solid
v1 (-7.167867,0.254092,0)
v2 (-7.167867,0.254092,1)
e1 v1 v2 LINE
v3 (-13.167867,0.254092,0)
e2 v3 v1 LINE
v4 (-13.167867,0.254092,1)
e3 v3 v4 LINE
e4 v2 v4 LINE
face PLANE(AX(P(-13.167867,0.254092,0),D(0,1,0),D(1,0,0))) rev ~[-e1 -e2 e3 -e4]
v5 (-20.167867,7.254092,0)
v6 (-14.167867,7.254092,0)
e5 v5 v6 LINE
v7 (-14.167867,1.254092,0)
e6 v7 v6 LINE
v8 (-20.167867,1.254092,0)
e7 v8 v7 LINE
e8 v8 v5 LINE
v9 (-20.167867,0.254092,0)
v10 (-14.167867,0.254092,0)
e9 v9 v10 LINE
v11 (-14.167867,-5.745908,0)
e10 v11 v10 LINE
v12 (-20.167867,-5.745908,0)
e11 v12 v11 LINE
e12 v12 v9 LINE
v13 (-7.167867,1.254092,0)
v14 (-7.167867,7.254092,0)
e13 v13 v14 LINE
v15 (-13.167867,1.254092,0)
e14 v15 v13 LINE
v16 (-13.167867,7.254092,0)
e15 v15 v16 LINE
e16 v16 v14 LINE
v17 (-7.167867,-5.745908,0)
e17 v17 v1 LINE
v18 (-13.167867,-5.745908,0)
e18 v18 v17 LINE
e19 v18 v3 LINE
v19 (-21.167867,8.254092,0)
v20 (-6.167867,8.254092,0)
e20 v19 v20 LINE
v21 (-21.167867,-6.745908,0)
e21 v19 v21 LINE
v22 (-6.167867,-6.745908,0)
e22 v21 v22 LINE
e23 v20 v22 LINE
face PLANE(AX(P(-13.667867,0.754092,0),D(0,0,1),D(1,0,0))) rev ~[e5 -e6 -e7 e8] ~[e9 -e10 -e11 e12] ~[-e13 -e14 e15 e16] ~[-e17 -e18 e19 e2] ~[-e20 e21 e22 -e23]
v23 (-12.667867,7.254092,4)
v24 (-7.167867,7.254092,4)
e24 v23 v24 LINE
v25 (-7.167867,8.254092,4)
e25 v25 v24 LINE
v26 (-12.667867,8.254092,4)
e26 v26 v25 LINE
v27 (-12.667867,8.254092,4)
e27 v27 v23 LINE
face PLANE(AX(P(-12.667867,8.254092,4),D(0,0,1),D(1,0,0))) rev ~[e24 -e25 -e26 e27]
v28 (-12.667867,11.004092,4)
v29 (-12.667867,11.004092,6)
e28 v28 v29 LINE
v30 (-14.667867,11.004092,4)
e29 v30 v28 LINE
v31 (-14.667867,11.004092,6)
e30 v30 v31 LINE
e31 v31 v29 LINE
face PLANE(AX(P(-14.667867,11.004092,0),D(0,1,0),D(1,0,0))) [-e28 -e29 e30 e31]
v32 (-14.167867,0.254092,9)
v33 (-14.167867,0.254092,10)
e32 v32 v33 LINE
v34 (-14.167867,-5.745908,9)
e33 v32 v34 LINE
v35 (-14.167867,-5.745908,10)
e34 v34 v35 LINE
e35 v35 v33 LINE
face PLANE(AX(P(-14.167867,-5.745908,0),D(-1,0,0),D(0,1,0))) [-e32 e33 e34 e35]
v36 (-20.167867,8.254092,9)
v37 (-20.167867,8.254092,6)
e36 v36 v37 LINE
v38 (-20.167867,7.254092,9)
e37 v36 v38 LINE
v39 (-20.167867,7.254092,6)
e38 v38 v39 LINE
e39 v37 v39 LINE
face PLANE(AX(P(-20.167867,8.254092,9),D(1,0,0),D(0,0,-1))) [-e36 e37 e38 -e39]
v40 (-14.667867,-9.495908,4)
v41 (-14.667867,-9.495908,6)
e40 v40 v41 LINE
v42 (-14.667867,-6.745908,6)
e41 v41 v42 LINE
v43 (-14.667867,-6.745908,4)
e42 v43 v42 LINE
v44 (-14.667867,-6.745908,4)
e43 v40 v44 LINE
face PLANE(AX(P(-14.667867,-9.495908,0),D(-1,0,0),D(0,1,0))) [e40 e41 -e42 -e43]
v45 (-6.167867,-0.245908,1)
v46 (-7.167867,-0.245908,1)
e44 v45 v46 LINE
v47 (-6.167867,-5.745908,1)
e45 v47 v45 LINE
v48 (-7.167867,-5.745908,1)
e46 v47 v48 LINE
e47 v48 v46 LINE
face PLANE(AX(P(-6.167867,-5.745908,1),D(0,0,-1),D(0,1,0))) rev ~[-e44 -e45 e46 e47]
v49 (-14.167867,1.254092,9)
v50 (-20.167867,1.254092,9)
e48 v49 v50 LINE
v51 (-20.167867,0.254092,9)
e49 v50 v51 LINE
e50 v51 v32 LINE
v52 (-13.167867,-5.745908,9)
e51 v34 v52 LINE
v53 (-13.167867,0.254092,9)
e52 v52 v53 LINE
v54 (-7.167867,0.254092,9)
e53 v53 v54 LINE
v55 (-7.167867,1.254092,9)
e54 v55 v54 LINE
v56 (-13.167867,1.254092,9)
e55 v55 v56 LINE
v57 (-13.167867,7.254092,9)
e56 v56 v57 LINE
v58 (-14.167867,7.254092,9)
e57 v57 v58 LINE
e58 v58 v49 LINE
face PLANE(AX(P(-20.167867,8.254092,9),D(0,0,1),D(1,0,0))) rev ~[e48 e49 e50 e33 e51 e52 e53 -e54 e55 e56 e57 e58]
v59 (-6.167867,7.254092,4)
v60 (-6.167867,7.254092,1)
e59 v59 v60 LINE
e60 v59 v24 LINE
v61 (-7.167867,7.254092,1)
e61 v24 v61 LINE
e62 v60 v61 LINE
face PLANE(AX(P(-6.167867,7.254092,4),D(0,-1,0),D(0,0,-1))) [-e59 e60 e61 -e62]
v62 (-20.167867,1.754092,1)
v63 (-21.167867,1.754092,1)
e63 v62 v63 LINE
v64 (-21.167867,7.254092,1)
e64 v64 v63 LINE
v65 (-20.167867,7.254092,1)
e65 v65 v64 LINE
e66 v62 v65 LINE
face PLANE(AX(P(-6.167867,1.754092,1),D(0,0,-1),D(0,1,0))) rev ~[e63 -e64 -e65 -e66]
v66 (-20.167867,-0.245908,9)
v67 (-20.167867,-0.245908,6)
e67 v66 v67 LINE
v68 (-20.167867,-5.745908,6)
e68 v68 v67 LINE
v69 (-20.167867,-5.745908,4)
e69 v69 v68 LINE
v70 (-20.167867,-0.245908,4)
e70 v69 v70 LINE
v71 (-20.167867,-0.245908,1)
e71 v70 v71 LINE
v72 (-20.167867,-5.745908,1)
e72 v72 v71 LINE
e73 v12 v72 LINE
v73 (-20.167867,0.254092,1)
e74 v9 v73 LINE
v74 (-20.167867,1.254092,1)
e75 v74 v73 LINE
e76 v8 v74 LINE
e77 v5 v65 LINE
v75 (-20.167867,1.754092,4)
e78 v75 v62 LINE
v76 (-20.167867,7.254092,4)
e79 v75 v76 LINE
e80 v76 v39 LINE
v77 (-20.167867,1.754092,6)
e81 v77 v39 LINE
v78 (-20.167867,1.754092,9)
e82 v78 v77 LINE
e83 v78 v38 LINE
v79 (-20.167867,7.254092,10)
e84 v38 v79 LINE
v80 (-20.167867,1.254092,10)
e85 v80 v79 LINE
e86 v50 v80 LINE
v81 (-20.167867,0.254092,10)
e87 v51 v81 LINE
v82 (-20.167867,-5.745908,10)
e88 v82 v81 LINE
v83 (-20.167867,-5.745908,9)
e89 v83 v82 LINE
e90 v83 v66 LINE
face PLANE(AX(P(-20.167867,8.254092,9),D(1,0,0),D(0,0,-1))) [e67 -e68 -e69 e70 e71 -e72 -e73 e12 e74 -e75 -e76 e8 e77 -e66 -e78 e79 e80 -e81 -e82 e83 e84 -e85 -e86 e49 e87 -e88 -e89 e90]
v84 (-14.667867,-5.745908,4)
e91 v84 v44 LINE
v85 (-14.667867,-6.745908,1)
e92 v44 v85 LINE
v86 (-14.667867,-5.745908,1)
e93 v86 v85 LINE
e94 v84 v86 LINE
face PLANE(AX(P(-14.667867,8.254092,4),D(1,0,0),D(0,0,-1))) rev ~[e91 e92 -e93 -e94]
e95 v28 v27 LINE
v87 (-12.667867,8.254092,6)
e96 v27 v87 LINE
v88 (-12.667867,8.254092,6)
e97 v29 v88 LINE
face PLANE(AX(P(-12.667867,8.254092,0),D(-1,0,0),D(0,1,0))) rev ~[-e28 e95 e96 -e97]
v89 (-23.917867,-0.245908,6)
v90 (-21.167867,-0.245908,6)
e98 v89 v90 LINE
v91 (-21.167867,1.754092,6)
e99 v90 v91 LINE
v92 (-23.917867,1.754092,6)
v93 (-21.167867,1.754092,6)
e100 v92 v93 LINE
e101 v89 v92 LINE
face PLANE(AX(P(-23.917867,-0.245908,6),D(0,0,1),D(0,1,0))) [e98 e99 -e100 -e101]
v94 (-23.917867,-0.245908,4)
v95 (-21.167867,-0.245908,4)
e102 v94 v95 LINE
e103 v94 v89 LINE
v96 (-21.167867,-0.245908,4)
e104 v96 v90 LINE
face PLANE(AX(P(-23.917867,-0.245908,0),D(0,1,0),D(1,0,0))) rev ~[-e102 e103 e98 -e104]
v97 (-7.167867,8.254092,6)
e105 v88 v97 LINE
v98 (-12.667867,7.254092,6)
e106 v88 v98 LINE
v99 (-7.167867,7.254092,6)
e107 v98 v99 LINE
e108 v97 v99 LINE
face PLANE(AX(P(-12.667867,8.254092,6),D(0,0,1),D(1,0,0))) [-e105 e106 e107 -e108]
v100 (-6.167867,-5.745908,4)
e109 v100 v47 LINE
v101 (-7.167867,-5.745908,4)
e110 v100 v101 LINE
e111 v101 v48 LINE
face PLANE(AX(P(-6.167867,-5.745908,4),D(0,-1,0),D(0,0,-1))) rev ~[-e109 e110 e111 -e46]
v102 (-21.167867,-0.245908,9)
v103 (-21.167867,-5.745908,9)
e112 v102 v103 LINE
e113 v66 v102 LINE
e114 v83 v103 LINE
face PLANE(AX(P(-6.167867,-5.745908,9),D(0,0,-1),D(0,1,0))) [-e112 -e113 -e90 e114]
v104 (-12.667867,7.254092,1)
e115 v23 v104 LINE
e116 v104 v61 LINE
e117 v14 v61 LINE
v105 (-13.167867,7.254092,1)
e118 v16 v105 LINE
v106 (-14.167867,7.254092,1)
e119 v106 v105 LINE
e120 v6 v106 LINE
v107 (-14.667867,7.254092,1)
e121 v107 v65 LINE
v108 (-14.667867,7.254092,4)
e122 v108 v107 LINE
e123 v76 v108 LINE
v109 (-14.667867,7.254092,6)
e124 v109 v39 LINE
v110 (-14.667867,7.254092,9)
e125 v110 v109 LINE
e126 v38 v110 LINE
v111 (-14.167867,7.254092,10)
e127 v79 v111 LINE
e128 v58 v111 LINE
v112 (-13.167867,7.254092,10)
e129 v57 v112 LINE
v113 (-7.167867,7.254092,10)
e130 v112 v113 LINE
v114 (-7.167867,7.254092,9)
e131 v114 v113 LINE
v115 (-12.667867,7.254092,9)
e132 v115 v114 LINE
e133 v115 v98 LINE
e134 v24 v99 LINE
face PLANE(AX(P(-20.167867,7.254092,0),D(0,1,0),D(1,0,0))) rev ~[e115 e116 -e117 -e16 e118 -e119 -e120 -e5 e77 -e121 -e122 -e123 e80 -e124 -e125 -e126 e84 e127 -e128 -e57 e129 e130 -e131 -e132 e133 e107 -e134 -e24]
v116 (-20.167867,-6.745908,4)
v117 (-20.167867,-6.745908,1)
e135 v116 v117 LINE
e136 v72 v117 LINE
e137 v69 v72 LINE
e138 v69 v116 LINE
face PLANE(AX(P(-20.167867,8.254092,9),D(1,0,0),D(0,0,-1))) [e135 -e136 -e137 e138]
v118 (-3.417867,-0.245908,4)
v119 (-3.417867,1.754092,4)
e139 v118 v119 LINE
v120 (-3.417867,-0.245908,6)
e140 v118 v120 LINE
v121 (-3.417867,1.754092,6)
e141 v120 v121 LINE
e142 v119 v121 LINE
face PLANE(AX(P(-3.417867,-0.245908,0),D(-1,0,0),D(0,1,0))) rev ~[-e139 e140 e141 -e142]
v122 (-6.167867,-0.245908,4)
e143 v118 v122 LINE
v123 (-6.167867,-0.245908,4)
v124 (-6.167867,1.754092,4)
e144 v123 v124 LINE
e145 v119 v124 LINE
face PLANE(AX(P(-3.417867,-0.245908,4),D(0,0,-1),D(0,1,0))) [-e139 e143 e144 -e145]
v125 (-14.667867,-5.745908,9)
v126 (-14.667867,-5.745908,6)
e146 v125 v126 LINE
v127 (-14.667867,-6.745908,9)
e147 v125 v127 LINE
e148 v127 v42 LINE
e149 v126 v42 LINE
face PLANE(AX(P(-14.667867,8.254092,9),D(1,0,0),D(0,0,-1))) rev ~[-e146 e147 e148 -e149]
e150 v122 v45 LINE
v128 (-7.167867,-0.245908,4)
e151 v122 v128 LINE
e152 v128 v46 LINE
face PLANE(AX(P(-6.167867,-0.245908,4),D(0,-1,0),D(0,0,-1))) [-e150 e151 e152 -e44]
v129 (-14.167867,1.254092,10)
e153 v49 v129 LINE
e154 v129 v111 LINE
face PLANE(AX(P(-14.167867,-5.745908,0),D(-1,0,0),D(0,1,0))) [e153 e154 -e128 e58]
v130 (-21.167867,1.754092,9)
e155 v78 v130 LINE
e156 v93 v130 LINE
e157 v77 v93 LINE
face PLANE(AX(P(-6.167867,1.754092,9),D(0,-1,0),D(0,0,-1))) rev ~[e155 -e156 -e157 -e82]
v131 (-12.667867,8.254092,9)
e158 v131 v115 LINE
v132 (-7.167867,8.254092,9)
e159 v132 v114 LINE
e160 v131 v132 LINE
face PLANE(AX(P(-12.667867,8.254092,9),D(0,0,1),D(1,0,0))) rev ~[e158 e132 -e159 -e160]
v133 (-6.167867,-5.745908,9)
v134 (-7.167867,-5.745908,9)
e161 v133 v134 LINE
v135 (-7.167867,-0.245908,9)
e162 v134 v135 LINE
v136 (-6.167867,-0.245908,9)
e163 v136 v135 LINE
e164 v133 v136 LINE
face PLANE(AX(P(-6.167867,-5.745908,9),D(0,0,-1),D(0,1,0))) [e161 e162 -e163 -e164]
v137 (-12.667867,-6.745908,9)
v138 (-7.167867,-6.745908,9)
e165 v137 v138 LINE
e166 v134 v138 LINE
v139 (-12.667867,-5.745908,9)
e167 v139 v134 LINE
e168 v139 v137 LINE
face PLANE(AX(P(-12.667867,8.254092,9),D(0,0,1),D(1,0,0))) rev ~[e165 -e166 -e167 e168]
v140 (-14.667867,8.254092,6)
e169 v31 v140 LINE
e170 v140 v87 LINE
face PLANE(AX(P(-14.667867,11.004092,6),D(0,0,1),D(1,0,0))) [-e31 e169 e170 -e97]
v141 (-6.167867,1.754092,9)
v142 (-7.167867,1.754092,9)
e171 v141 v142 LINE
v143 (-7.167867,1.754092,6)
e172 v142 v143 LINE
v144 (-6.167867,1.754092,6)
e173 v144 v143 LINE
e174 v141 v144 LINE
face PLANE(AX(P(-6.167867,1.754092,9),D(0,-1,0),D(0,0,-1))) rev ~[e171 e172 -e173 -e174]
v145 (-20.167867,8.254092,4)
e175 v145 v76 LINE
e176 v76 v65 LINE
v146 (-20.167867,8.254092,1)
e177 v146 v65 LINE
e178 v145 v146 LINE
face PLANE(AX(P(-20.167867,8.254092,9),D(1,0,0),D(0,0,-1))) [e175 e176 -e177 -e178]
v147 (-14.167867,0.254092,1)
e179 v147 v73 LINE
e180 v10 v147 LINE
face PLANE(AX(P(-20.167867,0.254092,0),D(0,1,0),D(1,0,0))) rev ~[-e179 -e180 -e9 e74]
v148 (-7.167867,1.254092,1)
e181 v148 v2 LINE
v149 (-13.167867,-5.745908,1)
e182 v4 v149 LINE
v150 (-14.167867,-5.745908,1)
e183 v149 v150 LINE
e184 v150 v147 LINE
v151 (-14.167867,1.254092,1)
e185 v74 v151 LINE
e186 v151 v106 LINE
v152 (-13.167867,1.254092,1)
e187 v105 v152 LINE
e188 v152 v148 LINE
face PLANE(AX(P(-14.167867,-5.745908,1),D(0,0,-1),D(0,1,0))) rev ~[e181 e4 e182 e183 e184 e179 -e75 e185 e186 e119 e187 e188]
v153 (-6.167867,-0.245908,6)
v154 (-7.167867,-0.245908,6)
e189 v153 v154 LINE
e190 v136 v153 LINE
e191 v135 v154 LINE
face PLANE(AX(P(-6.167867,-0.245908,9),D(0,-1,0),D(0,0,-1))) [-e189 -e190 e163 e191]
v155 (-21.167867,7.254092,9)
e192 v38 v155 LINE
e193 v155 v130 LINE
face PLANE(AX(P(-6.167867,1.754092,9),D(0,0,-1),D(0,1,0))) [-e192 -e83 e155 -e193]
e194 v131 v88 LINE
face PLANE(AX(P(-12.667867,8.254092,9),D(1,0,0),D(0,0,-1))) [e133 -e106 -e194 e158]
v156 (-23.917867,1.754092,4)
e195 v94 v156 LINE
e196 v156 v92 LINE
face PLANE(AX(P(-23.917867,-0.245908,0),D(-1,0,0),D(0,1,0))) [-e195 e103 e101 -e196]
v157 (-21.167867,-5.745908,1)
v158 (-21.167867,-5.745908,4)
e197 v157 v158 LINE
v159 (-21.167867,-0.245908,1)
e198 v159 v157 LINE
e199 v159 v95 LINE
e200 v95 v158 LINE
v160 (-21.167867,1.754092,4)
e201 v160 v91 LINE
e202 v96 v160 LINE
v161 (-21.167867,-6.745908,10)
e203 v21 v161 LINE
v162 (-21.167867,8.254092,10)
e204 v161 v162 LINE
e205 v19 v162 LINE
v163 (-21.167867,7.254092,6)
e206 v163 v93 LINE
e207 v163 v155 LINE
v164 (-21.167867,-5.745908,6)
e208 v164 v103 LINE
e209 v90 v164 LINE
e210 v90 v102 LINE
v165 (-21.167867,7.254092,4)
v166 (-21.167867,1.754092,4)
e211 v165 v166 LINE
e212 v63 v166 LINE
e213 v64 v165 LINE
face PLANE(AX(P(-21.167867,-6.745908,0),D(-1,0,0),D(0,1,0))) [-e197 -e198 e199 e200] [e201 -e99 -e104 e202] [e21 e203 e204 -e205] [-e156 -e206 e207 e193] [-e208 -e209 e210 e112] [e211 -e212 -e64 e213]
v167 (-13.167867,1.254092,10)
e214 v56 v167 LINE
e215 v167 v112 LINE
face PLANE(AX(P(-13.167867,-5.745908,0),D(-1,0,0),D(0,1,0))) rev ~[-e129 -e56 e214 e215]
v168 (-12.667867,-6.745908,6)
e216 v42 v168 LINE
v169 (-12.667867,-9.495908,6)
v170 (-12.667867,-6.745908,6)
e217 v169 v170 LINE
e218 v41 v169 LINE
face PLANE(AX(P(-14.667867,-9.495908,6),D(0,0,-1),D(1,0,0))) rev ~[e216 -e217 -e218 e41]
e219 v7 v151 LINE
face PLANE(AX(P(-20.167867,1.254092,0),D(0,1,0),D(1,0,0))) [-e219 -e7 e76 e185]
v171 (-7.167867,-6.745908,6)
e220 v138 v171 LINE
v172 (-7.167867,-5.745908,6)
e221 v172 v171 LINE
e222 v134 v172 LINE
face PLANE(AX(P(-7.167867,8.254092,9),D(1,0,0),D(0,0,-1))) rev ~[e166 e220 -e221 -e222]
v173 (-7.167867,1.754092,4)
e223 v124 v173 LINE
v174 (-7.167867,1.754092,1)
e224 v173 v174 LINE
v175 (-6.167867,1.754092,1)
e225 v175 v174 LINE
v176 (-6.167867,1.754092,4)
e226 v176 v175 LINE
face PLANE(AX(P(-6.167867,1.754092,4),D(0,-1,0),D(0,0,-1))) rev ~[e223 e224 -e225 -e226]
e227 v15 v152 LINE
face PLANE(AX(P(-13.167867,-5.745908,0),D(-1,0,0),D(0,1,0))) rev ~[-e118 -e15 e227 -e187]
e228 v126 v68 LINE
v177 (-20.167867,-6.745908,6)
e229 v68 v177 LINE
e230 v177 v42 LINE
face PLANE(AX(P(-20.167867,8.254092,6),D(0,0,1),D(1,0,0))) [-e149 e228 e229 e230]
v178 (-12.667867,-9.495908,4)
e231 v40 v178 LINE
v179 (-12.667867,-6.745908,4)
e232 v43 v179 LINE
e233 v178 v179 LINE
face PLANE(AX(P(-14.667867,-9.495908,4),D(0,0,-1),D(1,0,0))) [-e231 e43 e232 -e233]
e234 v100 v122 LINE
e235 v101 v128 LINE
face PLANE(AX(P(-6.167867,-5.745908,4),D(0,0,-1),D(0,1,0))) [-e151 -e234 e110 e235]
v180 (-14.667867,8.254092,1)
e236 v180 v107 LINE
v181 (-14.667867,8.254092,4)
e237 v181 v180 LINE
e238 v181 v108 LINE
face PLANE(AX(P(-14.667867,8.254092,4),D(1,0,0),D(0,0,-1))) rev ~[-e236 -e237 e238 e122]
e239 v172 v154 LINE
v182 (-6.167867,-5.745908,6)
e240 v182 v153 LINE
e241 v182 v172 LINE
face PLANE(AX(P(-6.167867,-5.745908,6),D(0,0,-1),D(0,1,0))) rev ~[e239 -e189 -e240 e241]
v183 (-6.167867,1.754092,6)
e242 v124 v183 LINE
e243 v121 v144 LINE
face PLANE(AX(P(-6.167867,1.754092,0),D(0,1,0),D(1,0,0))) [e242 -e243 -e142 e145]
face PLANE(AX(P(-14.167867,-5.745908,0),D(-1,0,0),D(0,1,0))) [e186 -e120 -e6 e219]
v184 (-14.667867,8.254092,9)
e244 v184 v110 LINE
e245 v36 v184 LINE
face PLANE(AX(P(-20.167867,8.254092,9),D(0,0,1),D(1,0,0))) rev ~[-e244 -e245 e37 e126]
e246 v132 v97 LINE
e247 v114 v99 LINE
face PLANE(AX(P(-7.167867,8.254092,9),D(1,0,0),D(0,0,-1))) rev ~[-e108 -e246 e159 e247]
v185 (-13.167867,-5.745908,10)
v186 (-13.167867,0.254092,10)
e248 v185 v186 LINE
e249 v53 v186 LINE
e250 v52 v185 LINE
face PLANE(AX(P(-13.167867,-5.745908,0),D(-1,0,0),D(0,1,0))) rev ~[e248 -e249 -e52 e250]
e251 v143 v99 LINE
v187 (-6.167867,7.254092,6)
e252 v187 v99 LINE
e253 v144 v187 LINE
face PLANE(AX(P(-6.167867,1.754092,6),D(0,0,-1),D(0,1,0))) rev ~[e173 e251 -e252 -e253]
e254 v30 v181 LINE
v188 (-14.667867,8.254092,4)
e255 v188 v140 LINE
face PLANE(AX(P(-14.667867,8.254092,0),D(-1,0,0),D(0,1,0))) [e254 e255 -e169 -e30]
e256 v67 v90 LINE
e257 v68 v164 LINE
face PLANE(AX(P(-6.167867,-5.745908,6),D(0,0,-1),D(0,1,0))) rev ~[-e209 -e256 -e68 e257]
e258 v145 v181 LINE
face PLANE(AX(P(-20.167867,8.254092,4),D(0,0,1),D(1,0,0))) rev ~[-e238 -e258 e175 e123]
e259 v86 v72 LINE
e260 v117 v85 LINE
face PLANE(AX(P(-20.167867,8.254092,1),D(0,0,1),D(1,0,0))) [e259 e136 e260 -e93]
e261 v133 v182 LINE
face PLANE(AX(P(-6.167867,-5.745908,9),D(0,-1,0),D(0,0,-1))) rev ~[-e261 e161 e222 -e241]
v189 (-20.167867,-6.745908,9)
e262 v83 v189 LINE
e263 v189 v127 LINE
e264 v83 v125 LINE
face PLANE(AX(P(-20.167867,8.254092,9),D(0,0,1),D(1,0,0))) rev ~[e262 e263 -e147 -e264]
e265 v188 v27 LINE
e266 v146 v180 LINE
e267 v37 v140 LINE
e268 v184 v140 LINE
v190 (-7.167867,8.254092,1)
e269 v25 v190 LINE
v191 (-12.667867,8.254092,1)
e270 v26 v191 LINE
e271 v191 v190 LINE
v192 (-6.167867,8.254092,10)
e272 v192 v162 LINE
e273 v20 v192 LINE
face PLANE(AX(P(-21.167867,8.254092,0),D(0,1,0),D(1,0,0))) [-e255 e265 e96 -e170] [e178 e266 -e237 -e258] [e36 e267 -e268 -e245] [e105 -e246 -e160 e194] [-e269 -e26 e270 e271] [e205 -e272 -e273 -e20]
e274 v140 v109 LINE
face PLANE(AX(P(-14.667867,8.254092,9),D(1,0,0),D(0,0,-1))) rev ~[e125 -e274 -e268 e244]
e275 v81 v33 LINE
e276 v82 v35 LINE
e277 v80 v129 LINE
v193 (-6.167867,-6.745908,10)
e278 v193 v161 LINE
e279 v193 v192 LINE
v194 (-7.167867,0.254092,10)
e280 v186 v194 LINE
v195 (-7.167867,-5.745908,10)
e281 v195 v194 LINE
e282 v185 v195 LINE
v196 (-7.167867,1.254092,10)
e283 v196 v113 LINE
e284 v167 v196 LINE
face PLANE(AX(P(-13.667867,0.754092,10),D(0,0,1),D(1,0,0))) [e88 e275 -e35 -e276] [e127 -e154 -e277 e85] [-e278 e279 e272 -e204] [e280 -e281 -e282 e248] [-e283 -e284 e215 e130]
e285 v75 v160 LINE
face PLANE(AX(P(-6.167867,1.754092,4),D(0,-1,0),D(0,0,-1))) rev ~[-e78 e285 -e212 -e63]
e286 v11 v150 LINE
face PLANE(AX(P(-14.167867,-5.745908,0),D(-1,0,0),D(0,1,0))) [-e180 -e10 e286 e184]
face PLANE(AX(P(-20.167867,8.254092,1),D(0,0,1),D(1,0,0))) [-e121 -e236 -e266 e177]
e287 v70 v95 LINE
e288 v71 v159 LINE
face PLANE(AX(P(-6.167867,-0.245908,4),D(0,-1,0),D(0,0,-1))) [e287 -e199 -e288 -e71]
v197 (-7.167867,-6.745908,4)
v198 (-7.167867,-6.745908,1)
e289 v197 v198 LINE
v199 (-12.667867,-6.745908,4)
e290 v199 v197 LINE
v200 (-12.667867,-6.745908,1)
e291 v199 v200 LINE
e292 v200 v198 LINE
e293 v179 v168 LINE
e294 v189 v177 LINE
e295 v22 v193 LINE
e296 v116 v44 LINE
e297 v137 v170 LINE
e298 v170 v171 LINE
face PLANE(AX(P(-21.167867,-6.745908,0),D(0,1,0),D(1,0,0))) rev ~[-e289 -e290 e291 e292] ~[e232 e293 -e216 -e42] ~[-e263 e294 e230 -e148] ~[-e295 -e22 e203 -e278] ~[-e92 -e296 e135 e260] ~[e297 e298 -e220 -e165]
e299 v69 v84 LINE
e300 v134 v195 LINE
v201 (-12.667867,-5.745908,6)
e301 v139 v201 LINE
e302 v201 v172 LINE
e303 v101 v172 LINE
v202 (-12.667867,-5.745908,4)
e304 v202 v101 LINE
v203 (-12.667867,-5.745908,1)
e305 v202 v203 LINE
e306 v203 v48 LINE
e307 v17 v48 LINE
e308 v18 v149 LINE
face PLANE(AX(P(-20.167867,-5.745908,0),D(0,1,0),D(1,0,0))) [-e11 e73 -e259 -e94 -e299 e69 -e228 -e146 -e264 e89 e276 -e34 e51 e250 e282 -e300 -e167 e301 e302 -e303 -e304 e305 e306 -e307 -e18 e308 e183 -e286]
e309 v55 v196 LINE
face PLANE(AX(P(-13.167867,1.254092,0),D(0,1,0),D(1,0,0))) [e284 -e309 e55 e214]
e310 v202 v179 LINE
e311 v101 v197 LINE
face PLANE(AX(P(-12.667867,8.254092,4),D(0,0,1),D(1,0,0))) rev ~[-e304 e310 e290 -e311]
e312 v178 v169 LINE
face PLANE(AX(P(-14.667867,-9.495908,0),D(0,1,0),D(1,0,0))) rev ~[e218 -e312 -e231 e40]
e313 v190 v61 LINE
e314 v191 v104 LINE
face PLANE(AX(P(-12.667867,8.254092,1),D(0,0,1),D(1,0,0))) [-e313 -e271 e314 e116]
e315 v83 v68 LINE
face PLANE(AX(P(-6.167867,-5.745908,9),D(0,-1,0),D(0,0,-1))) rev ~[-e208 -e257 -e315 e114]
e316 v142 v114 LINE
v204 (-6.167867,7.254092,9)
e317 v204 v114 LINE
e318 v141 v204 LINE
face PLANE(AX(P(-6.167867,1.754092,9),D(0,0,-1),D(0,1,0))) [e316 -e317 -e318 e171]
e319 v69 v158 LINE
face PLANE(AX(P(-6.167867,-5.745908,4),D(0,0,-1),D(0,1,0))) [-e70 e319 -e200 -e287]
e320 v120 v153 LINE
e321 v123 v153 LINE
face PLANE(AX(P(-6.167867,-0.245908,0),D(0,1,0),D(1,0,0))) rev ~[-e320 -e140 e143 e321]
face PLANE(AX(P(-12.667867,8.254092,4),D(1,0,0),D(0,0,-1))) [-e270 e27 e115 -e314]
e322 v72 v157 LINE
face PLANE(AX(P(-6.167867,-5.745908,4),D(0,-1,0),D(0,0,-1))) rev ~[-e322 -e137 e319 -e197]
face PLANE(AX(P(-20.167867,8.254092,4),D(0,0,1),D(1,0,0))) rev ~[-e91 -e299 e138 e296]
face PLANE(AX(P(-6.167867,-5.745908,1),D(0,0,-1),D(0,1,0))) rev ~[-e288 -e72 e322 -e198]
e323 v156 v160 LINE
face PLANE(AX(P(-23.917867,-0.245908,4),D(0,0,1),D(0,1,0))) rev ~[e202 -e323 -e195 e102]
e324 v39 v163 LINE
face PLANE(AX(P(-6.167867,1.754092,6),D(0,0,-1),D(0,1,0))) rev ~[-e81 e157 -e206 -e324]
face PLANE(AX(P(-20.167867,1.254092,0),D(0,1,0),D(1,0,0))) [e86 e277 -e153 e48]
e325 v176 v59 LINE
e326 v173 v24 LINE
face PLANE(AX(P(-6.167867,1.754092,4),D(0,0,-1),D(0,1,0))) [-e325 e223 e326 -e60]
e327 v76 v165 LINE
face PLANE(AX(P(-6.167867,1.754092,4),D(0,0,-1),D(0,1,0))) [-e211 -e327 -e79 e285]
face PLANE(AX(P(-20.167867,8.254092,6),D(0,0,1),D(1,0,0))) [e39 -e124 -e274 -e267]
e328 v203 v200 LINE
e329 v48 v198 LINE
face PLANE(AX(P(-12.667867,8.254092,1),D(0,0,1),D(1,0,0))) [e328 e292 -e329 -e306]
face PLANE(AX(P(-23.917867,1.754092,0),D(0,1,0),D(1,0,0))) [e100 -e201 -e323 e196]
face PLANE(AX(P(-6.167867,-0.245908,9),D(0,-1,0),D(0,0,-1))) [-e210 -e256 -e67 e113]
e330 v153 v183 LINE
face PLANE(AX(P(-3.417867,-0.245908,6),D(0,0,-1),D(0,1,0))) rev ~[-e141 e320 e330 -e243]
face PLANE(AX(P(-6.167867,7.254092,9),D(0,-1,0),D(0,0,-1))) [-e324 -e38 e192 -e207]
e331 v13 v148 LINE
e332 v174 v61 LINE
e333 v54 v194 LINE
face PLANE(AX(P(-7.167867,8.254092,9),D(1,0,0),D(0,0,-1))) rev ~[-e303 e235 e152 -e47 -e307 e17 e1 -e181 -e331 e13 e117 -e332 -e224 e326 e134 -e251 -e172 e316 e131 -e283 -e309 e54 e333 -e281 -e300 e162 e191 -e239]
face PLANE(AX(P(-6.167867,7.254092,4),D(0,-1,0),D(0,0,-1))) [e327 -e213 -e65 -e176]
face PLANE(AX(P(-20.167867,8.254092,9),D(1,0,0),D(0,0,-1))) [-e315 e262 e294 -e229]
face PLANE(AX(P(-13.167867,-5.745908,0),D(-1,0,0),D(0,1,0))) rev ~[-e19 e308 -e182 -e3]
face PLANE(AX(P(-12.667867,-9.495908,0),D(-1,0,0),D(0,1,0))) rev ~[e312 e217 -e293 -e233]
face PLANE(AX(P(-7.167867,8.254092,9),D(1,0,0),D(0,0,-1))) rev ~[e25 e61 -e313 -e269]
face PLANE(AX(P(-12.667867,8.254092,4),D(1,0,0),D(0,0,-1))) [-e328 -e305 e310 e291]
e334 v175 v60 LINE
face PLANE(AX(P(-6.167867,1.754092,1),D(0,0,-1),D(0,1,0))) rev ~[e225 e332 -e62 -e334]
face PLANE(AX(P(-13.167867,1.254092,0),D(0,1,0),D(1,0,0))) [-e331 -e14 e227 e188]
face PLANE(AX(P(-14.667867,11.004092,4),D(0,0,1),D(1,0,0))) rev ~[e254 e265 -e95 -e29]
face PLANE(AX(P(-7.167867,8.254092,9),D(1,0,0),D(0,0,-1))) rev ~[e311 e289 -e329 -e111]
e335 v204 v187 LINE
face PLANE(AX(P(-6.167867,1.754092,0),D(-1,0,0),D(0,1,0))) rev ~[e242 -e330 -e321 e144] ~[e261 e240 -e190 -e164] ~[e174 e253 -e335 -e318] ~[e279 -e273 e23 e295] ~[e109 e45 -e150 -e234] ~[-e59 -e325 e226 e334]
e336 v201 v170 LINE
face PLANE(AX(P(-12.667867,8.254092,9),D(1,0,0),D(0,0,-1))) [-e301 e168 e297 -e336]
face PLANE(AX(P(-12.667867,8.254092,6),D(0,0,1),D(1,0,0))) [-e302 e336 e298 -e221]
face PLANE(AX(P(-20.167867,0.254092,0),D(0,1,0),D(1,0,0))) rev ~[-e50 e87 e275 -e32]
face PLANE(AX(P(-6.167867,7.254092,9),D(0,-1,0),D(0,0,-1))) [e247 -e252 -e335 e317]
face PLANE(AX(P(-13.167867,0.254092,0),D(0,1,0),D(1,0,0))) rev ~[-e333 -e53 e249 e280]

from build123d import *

# Parameters (mm, degrees)
SKETCH_1_W               = 15
SKETCH_1_H               = 15
SKETCH_1_W_2             = 6
SKETCH_1_H_2             = 6
SKETCH_1_W_3             = 2
SKETCH_1_H_3             = 2.75
SKETCH_1_W_4             = 2.75
SKETCH_1_H_4             = 2
EXTRUDE_1_DEPTH          = 10
SKETCH_2_W               = 2
SKETCH_2_H               = 4
CUT_EXTRUDE_1_DEPTH      = 2.75
SKETCH_3_W               = 4
SKETCH_3_H               = 2
CUT_EXTRUDE_2_DEPTH      = 2.75
SKETCH_4_W               = 2
SKETCH_4_H               = 4
CUT_EXTRUDE_3_DEPTH      = 2.75
SKETCH_5_W               = 4
SKETCH_5_H               = 2
CUT_EXTRUDE_4_DEPTH      = 2.75
SKETCH_6_W               = 5.5
SKETCH_6_H               = 3
CUT_EXTRUDE_5_DEPTH      = 18.75
SKETCH_7_W               = 3
SKETCH_7_H               = 5.5
CUT_EXTRUDE_6_DEPTH      = 18.75
SKETCH_8_W               = 8
SKETCH_8_H               = 13
CUT_EXTRUDE_7_DEPTH      = 6
CUT_EXTRUDE_7_DEPTH_BACK = 0.75
SKETCH_9_W               = 8
SKETCH_9_H               = 13
CUT_EXTRUDE_8_DEPTH      = 6
SKETCH_10_W              = 8
SKETCH_10_H              = 13
CUT_EXTRUDE_9_DEPTH      = 6


with BuildPart() as part:
    # ｽｹｯﾁ1 → ﾎﾞｽ - 押し出し1 (new body)
    with BuildSketch(Plane.XY):
        with Locations((-13.66786655, 0.754091784)):
            Rectangle(SKETCH_1_W, SKETCH_1_H)
        with Locations((-17.16786655, -2.745908216)):
            Rectangle(SKETCH_1_W_2, SKETCH_1_H_2, mode=Mode.SUBTRACT)
        with Locations((-10.16786655, -2.745908216)):
            Rectangle(SKETCH_1_W_2, SKETCH_1_H_2, mode=Mode.SUBTRACT)
        with Locations((-10.16786655, 4.254091784)):
            Rectangle(SKETCH_1_W_2, SKETCH_1_H_2, mode=Mode.SUBTRACT)
        with Locations((-17.16786655, 4.254091784)):
            Rectangle(SKETCH_1_W_2, SKETCH_1_H_2, mode=Mode.SUBTRACT)
        with Locations((-13.66786655, 9.629091784)):
            Rectangle(SKETCH_1_W_3, SKETCH_1_H_3)
        with Locations((-22.54286655, 0.754091784)):
            Rectangle(SKETCH_1_W_4, SKETCH_1_H_4)
        with Locations((-4.79286655, 0.754091784)):
            Rectangle(SKETCH_1_W_4, SKETCH_1_H_4)
        with Locations((-13.66786655, -8.120908216)):
            Rectangle(SKETCH_1_W_3, SKETCH_1_H_3)
    extrude(amount=EXTRUDE_1_DEPTH)

    # ｽｹｯﾁ2 → ｶｯﾄ - 押し出し1 (cut)
    with BuildSketch(Plane(origin=(0, 11.004091784, 0), x_dir=(1, 0, 0), z_dir=(0, 1, 0))):
        with Locations((-13.66786655, -2)):
            Rectangle(SKETCH_2_W, SKETCH_2_H)
        with Locations((-13.66786655, -8)):
            Rectangle(SKETCH_2_W, SKETCH_2_H)
    extrude(amount=-CUT_EXTRUDE_1_DEPTH, mode=Mode.SUBTRACT)

    # ｽｹｯﾁ3 → ｶｯﾄ - 押し出し2 (cut)
    with BuildSketch(Plane(origin=(-3.41786655, 0, 0), x_dir=(0, 0, -1), z_dir=(1, 0, 0))):
        with Locations((-8, 0.754091784)):
            Rectangle(SKETCH_3_W, SKETCH_3_H)
        with Locations((-2, 0.754091784)):
            Rectangle(SKETCH_3_W, SKETCH_3_H)
    extrude(amount=-CUT_EXTRUDE_2_DEPTH, mode=Mode.SUBTRACT)

    # ｽｹｯﾁ4 → ｶｯﾄ - 押し出し3 (cut)
    with BuildSketch(Plane.XZ.offset(9.495908216)):
        with Locations((-13.66786655, 8)):
            Rectangle(SKETCH_4_W, SKETCH_4_H)
        with Locations((-13.66786655, 2)):
            Rectangle(SKETCH_4_W, SKETCH_4_H)
    extrude(amount=-CUT_EXTRUDE_3_DEPTH, mode=Mode.SUBTRACT)

    # ｽｹｯﾁ5 → ｶｯﾄ - 押し出し4 (cut)
    with BuildSketch(Plane.ZY.offset(23.91786655)):
        with Locations((2, 0.754091784)):
            Rectangle(SKETCH_5_W, SKETCH_5_H)
        with Locations((8, 0.754091784)):
            Rectangle(SKETCH_5_W, SKETCH_5_H)
    extrude(amount=-CUT_EXTRUDE_4_DEPTH, mode=Mode.SUBTRACT)

    # ｽｹｯﾁ6 → ｶｯﾄ - 押し出し5 (cut, through all)
    with BuildSketch(Plane(origin=(0, 8.254091784, 0), x_dir=(1, 0, 0), z_dir=(0, 1, 0))):
        with Locations((-17.41786655, -2.5)):
            Rectangle(SKETCH_6_W, SKETCH_6_H)
        with Locations((-9.91786655, -2.5)):
            Rectangle(SKETCH_6_W, SKETCH_6_H)
        with Locations((-17.41786655, -7.5)):
            Rectangle(SKETCH_6_W, SKETCH_6_H)
        with Locations((-9.91786655, -7.5)):
            Rectangle(SKETCH_6_W, SKETCH_6_H)
    extrude(amount=-CUT_EXTRUDE_5_DEPTH, mode=Mode.SUBTRACT)

    # ｽｹｯﾁ7 → ｶｯﾄ - 押し出し6 (cut, through all)
    with BuildSketch(Plane(origin=(-6.16786655, 0, 0), x_dir=(0, 0, -1), z_dir=(1, 0, 0))):
        with Locations((-7.5, 4.504091784)):
            Rectangle(SKETCH_7_W, SKETCH_7_H)
        with Locations((-2.5, 4.504091784)):
            Rectangle(SKETCH_7_W, SKETCH_7_H)
        with Locations((-7.5, -2.995908216)):
            Rectangle(SKETCH_7_W, SKETCH_7_H)
        with Locations((-2.5, -2.995908216)):
            Rectangle(SKETCH_7_W, SKETCH_7_H)
    extrude(amount=-CUT_EXTRUDE_6_DEPTH, mode=Mode.SUBTRACT)

    # ｽｹｯﾁ8 → ｶｯﾄ - 押し出し7 (cut, two sides)
    with BuildSketch(Plane.ZY.offset(14.16786655)) as cut_extrude_7_sk:
        with Locations((5, 0.754091784)):
            Rectangle(SKETCH_8_W, SKETCH_8_H)
    extrude(amount=CUT_EXTRUDE_7_DEPTH, mode=Mode.SUBTRACT)
    extrude(cut_extrude_7_sk.sketch, amount=-CUT_EXTRUDE_7_DEPTH_BACK, mode=Mode.SUBTRACT)

    # ｽｹｯﾁ9 → ｶｯﾄ - 押し出し8 (cut)
    with BuildSketch(Plane(origin=(-13.16786655, 0, 0), x_dir=(0, 0, -1), z_dir=(1, 0, 0))):
        with Locations((-5, 0.754091784)):
            Rectangle(SKETCH_9_W, SKETCH_9_H)
    extrude(amount=CUT_EXTRUDE_8_DEPTH, mode=Mode.SUBTRACT)

    # ｽｹｯﾁ10 → ｶｯﾄ - 押し出し9 (cut)
    with BuildSketch(Plane(origin=(-13.16786655, 0, 0), x_dir=(0, 0, -1), z_dir=(1, 0, 0))):
        with Locations((-5, 0.754091784)):
            Rectangle(SKETCH_10_W, SKETCH_10_H)
    extrude(amount=-CUT_EXTRUDE_9_DEPTH, mode=Mode.SUBTRACT)


solid = part.part
